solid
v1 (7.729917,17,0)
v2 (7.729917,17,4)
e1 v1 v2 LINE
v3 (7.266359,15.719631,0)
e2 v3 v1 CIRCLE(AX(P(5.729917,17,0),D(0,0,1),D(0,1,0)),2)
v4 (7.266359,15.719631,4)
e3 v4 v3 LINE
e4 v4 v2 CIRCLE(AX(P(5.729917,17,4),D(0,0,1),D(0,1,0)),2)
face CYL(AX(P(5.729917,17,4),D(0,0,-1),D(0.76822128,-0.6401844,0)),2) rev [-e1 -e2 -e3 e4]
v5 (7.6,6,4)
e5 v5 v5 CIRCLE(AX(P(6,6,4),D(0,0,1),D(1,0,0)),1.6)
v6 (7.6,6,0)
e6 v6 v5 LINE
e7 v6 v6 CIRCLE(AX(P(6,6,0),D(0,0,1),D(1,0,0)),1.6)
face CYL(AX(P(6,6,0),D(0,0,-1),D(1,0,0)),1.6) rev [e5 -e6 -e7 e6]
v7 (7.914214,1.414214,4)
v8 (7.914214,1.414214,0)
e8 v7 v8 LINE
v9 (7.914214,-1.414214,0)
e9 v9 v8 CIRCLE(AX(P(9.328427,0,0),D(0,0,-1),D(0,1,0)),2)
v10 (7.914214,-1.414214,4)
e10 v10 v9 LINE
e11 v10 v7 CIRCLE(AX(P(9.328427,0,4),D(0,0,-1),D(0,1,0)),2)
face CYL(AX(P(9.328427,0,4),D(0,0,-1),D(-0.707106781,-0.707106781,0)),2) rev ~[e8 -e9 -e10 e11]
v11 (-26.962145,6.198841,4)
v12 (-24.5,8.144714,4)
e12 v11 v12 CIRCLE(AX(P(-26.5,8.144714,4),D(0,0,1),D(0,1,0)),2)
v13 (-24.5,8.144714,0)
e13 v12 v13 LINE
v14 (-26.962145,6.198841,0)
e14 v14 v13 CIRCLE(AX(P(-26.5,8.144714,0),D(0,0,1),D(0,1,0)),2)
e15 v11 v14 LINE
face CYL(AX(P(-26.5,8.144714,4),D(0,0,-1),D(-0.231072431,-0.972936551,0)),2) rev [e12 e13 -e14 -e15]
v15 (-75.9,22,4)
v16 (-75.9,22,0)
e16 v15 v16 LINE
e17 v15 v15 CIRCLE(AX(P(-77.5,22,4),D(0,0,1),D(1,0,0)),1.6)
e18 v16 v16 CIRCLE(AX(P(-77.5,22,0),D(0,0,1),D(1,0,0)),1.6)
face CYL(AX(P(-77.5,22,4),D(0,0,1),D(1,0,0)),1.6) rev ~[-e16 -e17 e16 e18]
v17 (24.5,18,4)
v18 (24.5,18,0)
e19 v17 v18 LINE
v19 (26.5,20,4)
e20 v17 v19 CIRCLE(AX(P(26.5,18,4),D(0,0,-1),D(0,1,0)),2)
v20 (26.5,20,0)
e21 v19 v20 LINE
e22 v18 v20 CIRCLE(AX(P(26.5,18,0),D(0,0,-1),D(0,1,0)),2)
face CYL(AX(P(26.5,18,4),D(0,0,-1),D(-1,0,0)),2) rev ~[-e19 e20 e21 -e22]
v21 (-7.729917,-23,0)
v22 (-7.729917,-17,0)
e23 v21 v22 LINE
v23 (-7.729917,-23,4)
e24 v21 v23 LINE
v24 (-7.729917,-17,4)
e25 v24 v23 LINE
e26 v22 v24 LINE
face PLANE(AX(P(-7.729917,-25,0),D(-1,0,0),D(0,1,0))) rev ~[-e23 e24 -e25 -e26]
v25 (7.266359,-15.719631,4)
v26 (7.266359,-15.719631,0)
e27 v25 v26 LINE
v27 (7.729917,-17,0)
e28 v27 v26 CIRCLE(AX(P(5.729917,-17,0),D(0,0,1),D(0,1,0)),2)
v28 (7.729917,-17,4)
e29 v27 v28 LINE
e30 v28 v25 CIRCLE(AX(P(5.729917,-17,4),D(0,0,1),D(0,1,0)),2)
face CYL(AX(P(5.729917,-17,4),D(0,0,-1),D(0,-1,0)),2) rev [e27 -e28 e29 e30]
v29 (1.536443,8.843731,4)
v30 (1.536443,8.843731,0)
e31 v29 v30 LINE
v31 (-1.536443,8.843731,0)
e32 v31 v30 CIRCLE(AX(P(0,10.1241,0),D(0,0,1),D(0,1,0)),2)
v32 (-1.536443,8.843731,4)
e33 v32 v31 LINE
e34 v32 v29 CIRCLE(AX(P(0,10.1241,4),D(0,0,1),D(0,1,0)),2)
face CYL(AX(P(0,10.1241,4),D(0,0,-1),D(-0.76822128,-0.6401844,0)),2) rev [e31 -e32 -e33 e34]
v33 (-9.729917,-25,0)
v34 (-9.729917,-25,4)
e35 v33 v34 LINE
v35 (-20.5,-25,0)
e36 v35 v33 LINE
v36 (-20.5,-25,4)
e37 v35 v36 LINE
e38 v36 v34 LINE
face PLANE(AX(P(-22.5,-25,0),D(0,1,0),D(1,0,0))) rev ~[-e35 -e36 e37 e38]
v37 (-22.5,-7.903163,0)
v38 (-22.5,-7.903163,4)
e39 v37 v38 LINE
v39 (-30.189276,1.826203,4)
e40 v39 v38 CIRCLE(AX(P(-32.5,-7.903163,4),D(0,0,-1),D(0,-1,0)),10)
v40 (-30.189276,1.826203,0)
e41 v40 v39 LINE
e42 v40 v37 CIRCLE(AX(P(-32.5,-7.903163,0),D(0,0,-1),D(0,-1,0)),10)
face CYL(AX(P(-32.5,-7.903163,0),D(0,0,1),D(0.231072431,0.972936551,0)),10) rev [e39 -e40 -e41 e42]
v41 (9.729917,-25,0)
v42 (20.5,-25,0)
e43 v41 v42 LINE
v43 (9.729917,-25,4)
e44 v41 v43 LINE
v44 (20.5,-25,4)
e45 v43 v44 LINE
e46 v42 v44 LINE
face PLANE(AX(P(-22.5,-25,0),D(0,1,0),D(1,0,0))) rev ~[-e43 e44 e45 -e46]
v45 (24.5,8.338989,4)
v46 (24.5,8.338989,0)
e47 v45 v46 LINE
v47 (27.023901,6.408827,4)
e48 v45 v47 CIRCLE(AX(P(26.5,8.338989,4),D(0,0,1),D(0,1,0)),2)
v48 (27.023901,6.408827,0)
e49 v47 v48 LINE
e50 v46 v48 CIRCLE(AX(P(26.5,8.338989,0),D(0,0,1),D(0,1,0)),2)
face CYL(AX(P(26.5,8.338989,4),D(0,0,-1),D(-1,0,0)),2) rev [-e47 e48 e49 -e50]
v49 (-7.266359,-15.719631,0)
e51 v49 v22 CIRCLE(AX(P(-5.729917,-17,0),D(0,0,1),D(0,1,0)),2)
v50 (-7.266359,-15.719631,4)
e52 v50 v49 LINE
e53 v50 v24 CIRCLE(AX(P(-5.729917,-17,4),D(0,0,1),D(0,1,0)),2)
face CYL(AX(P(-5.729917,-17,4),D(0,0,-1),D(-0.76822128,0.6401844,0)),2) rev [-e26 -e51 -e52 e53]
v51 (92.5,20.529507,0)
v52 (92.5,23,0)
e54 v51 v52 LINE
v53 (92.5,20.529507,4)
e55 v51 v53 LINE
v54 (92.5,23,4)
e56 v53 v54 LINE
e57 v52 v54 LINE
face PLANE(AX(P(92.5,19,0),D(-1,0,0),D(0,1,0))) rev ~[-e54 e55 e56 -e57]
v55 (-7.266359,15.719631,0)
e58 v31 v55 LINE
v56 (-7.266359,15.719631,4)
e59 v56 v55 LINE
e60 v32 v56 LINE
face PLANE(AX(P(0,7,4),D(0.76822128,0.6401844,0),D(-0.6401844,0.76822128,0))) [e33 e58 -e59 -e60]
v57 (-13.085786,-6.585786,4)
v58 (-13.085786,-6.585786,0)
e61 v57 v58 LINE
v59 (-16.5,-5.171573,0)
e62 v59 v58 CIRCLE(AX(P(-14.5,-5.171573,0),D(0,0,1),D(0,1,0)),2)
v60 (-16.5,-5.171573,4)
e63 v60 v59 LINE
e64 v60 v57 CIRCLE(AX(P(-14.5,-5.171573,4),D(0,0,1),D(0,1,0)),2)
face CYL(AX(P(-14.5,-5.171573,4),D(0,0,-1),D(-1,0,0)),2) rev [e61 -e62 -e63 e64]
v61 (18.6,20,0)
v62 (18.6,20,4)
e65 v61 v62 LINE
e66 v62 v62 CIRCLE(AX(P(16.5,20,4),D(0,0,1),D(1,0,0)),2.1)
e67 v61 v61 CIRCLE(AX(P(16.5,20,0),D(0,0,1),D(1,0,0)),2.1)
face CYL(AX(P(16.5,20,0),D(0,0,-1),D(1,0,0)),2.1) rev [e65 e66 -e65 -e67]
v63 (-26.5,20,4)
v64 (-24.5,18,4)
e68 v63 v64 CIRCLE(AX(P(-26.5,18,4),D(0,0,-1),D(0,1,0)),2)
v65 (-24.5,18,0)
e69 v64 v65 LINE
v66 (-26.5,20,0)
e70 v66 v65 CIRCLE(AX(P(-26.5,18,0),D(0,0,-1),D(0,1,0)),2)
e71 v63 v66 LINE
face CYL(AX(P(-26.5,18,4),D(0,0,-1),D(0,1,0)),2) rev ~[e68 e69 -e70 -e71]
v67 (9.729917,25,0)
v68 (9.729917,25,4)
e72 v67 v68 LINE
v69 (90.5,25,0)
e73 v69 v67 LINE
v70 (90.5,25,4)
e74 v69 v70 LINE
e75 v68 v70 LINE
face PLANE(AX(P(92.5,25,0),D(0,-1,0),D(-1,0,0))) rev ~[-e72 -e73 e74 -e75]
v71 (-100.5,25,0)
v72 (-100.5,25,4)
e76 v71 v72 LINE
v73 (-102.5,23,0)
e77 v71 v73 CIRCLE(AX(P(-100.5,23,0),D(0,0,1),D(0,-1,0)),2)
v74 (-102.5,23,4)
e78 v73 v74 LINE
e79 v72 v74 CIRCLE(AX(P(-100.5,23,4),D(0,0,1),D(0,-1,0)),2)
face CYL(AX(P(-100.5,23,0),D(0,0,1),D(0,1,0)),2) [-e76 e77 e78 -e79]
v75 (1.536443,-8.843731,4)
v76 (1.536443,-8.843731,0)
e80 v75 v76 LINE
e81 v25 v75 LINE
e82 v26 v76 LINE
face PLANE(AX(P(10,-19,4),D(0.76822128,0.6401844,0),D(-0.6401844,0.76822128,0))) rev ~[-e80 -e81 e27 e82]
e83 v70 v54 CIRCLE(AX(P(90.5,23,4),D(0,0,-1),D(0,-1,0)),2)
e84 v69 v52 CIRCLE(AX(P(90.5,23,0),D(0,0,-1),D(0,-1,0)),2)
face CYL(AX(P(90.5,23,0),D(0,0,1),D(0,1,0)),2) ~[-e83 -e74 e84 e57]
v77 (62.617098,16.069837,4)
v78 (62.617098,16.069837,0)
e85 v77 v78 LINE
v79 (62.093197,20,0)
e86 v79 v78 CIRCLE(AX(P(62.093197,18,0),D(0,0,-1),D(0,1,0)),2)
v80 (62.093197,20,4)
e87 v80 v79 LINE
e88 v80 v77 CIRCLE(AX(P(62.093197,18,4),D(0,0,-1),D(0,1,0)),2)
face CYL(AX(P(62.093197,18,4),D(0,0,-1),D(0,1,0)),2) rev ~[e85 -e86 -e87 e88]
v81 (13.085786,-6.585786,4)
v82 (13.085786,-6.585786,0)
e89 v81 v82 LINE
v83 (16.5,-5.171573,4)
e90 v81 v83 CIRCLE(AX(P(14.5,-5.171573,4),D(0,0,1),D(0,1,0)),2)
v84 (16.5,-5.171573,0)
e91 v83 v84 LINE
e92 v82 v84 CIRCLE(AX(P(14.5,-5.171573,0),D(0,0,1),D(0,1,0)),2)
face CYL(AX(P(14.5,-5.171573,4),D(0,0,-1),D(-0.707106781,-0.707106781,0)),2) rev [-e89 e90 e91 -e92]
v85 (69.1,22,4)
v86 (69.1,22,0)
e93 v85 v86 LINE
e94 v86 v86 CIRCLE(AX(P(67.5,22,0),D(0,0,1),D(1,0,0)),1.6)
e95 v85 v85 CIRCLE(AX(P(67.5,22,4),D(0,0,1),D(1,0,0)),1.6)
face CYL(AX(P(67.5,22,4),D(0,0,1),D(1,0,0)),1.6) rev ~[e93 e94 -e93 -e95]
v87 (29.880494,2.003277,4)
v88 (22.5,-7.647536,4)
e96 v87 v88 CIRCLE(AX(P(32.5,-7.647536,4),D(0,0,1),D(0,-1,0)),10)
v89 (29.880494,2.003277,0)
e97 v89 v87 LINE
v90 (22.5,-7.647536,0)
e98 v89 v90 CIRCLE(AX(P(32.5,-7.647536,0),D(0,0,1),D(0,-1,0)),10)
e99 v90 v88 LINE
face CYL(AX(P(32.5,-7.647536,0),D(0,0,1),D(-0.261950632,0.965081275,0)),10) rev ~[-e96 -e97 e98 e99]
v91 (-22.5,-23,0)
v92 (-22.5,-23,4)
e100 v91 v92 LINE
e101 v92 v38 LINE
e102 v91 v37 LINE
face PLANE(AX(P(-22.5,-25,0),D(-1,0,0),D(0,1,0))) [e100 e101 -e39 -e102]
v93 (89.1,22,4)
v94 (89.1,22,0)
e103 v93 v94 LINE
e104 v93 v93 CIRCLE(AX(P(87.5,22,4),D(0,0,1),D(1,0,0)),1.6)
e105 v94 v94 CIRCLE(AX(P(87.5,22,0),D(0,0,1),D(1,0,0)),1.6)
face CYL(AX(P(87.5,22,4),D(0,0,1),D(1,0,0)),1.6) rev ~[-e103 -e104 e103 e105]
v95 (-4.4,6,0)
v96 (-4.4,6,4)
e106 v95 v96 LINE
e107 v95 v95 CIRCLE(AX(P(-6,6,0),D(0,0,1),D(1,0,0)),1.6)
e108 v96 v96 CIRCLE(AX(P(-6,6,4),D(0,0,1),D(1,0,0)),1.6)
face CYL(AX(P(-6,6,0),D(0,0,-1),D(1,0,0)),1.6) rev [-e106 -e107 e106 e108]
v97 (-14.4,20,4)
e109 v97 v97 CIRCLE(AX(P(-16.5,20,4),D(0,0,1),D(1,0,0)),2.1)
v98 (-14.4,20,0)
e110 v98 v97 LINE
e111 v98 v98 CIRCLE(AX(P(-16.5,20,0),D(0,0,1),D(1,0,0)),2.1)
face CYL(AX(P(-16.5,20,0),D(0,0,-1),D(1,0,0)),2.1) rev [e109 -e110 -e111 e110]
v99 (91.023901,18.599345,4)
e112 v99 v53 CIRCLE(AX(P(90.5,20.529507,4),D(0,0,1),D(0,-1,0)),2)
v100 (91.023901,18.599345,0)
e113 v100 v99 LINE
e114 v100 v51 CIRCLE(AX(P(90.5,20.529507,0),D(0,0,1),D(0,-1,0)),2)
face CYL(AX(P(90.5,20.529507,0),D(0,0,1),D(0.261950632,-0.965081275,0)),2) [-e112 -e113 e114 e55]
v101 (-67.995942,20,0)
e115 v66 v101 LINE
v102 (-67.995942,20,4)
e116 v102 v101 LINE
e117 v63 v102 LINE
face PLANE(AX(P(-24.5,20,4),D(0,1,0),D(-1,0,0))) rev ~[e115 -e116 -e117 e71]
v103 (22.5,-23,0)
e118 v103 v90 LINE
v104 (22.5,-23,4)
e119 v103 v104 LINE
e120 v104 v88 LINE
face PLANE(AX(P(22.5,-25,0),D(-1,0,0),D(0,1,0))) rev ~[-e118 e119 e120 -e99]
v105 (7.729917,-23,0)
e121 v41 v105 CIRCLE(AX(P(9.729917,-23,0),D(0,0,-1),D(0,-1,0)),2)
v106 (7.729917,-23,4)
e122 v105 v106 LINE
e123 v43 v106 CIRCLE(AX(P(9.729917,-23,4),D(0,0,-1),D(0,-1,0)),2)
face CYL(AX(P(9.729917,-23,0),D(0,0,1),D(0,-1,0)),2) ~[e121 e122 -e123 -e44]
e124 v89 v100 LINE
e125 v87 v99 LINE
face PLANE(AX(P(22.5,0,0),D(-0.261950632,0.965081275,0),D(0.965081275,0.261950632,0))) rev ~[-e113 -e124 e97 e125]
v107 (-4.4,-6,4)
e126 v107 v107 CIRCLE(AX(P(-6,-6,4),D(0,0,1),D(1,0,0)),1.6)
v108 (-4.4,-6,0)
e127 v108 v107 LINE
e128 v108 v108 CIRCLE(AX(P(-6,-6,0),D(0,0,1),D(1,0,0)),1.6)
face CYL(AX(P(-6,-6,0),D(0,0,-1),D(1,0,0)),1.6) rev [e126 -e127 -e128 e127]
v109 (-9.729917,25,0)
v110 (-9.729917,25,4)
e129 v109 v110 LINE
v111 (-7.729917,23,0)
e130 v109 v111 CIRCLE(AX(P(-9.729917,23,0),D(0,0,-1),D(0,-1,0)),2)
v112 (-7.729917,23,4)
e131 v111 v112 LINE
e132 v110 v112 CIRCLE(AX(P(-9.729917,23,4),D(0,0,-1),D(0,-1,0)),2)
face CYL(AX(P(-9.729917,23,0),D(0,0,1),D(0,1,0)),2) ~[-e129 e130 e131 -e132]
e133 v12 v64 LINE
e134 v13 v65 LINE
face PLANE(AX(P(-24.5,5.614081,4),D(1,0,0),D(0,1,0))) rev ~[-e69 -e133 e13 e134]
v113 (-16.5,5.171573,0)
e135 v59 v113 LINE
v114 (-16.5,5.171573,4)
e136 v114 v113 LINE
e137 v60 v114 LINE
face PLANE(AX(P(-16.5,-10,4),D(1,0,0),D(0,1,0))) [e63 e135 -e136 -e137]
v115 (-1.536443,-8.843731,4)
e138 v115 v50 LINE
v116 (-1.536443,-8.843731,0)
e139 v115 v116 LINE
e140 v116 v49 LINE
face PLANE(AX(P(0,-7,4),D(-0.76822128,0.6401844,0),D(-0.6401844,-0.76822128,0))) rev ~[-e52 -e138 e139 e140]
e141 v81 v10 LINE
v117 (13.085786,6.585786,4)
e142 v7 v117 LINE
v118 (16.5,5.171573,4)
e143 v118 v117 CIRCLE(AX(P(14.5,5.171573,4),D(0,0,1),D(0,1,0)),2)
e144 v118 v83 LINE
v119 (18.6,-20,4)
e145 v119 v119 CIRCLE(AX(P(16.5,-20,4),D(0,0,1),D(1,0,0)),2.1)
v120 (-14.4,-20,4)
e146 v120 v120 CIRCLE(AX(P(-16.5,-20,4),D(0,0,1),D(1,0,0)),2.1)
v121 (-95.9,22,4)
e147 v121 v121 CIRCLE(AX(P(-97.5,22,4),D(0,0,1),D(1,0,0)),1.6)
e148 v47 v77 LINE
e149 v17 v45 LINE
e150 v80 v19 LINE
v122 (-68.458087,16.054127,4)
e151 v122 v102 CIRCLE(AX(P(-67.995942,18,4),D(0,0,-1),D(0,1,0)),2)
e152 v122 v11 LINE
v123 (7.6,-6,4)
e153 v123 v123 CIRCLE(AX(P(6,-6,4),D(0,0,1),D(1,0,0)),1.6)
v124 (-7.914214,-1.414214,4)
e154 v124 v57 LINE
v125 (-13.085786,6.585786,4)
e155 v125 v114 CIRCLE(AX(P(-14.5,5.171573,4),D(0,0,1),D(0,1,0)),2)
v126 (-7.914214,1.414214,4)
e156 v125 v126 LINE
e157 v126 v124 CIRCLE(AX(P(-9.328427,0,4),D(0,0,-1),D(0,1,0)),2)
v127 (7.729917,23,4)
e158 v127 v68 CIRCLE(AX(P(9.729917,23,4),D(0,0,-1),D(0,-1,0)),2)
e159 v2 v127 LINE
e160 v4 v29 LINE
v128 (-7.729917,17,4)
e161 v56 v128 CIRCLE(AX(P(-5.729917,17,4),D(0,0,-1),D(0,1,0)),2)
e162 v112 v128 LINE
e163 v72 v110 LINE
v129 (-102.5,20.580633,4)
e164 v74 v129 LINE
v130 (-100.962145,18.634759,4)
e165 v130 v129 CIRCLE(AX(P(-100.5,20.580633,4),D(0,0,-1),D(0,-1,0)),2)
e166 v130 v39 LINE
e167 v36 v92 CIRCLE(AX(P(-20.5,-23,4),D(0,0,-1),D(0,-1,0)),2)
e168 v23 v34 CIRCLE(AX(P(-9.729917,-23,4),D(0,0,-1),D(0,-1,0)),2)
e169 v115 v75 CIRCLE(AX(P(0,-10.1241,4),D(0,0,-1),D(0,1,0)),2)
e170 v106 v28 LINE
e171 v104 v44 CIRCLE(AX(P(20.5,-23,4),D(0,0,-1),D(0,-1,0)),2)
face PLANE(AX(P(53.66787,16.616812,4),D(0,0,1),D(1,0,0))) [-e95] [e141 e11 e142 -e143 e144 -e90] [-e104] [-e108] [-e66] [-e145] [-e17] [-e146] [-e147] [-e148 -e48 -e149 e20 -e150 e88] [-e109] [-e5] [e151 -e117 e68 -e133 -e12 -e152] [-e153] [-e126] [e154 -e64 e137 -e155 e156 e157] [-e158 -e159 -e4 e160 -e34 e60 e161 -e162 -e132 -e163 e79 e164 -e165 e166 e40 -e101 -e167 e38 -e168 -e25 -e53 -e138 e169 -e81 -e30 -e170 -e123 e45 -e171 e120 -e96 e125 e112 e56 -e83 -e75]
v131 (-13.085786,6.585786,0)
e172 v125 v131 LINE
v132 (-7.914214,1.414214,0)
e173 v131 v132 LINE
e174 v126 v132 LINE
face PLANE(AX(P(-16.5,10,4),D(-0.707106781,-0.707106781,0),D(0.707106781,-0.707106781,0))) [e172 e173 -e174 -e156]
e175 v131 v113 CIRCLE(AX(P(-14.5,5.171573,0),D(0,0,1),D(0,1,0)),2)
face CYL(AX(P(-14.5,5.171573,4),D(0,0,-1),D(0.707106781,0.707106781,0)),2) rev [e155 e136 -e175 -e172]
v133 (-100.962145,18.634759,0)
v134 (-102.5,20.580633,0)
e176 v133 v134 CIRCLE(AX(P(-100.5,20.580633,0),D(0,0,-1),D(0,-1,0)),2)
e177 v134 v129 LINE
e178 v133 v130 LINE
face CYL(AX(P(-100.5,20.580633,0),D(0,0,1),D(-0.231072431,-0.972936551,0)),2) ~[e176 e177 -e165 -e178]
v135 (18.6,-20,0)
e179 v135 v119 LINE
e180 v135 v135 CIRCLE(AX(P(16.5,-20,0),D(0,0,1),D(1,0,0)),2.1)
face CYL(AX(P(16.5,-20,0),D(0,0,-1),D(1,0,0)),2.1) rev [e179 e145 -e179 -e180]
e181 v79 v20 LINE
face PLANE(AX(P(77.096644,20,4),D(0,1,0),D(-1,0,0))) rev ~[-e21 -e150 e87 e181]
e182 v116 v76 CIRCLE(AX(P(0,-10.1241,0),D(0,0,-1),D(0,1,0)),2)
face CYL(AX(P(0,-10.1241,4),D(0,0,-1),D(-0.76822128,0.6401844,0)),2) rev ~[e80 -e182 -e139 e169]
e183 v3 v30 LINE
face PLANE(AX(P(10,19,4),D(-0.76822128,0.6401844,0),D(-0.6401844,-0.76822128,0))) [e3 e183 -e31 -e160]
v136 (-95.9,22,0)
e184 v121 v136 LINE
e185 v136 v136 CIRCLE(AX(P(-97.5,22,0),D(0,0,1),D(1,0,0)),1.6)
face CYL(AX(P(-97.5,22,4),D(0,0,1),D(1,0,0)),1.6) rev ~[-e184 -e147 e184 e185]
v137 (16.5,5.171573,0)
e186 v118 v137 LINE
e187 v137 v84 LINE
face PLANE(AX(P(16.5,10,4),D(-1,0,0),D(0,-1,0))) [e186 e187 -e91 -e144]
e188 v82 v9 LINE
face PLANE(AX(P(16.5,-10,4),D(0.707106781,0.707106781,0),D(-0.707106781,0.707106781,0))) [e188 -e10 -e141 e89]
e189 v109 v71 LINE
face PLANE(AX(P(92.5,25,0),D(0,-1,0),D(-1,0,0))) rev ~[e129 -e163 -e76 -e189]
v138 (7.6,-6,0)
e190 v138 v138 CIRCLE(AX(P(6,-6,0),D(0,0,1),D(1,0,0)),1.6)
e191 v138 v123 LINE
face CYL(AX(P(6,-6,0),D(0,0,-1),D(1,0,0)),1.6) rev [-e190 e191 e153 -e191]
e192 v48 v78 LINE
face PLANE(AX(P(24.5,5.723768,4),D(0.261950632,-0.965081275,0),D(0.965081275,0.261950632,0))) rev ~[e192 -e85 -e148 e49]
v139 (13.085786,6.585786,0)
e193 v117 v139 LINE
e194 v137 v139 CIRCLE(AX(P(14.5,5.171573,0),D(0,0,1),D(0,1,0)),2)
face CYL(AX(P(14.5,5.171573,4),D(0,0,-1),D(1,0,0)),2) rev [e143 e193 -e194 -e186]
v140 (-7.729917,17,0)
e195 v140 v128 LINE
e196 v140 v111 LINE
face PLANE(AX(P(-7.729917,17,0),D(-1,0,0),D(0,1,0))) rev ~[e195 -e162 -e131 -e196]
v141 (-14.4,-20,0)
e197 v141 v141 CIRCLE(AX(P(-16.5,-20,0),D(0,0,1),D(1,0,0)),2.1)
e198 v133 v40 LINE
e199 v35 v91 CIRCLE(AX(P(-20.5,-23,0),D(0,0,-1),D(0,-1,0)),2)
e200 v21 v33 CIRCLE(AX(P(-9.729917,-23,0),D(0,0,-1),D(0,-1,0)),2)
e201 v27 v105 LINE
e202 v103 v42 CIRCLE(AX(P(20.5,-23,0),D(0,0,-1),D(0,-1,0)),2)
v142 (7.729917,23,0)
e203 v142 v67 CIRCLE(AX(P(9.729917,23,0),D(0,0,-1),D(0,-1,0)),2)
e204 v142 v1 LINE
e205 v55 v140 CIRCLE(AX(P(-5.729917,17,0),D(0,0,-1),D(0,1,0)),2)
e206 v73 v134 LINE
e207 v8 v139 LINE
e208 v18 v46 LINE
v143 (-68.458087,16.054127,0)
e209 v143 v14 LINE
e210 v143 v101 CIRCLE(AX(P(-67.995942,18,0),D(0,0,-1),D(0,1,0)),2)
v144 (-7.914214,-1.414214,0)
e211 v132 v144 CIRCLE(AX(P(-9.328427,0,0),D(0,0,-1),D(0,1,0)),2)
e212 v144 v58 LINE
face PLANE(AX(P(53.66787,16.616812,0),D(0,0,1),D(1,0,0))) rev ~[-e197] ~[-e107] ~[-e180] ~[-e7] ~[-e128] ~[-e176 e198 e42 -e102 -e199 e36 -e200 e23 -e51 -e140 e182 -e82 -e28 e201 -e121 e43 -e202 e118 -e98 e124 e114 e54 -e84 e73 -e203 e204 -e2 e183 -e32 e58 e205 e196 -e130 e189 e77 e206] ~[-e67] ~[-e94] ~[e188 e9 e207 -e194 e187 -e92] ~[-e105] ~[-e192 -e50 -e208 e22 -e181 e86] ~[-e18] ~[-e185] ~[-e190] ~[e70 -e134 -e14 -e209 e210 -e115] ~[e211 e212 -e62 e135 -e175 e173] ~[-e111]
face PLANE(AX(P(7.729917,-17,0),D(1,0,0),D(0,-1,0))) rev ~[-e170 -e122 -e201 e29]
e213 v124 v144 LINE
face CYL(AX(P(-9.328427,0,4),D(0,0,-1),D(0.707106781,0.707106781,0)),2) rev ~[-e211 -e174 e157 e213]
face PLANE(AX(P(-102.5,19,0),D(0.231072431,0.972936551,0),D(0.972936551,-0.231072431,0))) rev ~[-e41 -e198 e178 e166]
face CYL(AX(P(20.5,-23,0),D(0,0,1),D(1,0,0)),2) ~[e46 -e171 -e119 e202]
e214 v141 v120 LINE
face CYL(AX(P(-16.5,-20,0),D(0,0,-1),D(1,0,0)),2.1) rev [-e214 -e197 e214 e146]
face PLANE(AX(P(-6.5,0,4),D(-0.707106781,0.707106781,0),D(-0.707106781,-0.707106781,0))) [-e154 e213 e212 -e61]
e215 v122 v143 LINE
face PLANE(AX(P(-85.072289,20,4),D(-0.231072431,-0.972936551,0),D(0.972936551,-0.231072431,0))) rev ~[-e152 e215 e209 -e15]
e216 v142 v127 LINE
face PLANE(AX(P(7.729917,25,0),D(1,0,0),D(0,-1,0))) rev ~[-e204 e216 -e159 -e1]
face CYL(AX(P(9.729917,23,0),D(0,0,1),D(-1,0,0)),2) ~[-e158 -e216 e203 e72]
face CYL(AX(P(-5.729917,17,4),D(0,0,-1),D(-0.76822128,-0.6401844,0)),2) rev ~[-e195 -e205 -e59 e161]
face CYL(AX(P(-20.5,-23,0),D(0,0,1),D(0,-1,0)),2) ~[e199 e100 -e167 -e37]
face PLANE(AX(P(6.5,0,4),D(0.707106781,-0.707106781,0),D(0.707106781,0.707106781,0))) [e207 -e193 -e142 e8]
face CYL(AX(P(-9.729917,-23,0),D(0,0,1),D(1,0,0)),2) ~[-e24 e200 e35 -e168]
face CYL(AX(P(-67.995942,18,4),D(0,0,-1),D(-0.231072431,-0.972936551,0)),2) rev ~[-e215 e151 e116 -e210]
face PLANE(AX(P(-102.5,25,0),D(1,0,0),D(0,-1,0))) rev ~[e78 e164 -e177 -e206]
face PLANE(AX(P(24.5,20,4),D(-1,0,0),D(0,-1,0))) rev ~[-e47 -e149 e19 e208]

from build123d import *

# Parameters (mm, degrees)
SKETCH_1_W          = 45
SKETCH_1_H          = 50
SKETCH_1_R          = 1.6
SKETCH_1_R_2        = 2.1
EXTRUDE_1_DEPTH     = 4
FILLET_1_R          = 2
FILLET_2_R          = 10
CUT_EXTRUDE_1_DEPTH = 10
FILLET_3_R          = 2
SKETCH_3_W          = 5.729916775
SKETCH_3_H          = 6
CUT_EXTRUDE_2_DEPTH = 10
CUT_EXTRUDE_3_DEPTH = 10
FILLET_4_R          = 2
CUT_EXTRUDE_4_DEPTH = 10
FILLET_5_R          = 2
CUT_EXTRUDE_5_DEPTH = 10
SKETCH_8_R          = 1.6
CUT_EXTRUDE_6_DEPTH = 10
SKETCH_9_R          = 1.6
CUT_EXTRUDE_7_DEPTH = 10
FILLET_8_R          = 2


with BuildPart() as part:
    # 草图1 → 凸台-拉伸1 (new body)
    # profile 1 of 3: a face of its own
    with BuildSketch(Plane.XY):
        Polygon((-102.5, 25), (-102.5, 19), (-22.5, 0), (-22.5, 25), align=None)
    # profile 2 of 3: a face of its own
    with BuildSketch(Plane.XY):
        Rectangle(SKETCH_1_W, SKETCH_1_H)
        with Locations((-6, -6)):
            Circle(SKETCH_1_R, mode=Mode.SUBTRACT)
        with Locations((6, -6)):
            Circle(SKETCH_1_R, mode=Mode.SUBTRACT)
        with Locations((6, 6)):
            Circle(SKETCH_1_R, mode=Mode.SUBTRACT)
        with Locations((-6, 6)):
            Circle(SKETCH_1_R, mode=Mode.SUBTRACT)
        with Locations((-16.5, -20)):
            Circle(SKETCH_1_R_2, mode=Mode.SUBTRACT)
        with Locations((16.5, -20)):
            Circle(SKETCH_1_R_2, mode=Mode.SUBTRACT)
        with Locations((16.5, 20)):
            Circle(SKETCH_1_R_2, mode=Mode.SUBTRACT)
        with Locations((-16.5, 20)):
            Circle(SKETCH_1_R_2, mode=Mode.SUBTRACT)
    # profile 3 of 3: a face of its own
    with BuildSketch(Plane.XY):
        Polygon((92.5, 25), (22.5, 25), (22.5, 0), (92.5, 19), align=None)
    extrude(amount=EXTRUDE_1_DEPTH)

    # 圆角1
    fillet_1_edges = [part.edges().sort_by_distance(p)[0] for p in [
        (92.5, 25, 2),
        (92.5, 19, 2),
        (22.5, -25, 2),
        (-22.5, -25, 2),
        (-102.5, 19, 2),
        (-102.5, 25, 2),
    ]]
    fillet(fillet_1_edges, radius=FILLET_1_R)

    # 圆角2
    fillet_2_edges = [part.edges().sort_by_distance(p)[0] for p in [
        (22.5, 0, 2),
        (-22.5, 0, 2),
    ]]
    fillet(fillet_2_edges, radius=FILLET_2_R)

    # 草图2 → 切除-拉伸1 (cut)
    with BuildSketch(Plane.XY.offset(4)):
        Polygon((-10, 19), (10, 19), (0, 7), align=None)
        Polygon((0, -7), (-10, -19), (10, -19), align=None)
    extrude(amount=-CUT_EXTRUDE_1_DEPTH, mode=Mode.SUBTRACT)

    # 圆角3
    fillet_3_edges = [part.edges().sort_by_distance(p)[0] for p in [
        (0, 7, 2),
        (-10, 19, 2),
        (10, 19, 2),
        (10, -19, 2),
        (-10, -19, 2),
        (0, -7, 2),
    ]]
    fillet(fillet_3_edges, radius=FILLET_3_R)

    # 草图3 → 切除-拉伸2 (cut)
    with BuildSketch(Plane(origin=(0, 0, 0), x_dir=(-1, 0, 0), z_dir=(0, 0, -1))):
        with Locations((2.864958388, 22)):
            Rectangle(SKETCH_3_W, SKETCH_3_H)
        with Locations((-2.864958388, 22)):
            Rectangle(SKETCH_3_W, SKETCH_3_H)
        with Locations((2.864958388, -22)):
            Rectangle(SKETCH_3_W, SKETCH_3_H)
        with Locations((-2.864958388, -22)):
            Rectangle(SKETCH_3_W, SKETCH_3_H)
    extrude(amount=-CUT_EXTRUDE_2_DEPTH, mode=Mode.SUBTRACT)

    # 草图4 → 切除-拉伸3 (cut)
    with BuildSketch(Plane(origin=(0, 0, 0), x_dir=(-1, 0, 0), z_dir=(0, 0, -1))):
        with BuildLine():
            Line((-5.729916775, 25), (-7.729916775, 25))
            Line((-7.729916775, 25), (-7.729916775, 17))
            ThreePointArc((-7.729916775, 17), (-7.144130337, 18.414213562), (-5.729916775, 19))
            Line((-5.729916775, 19), (-5.729916775, 25))
        make_face()
        with BuildLine():
            Line((7.729916775, 25), (5.729916775, 25))
            Line((5.729916775, 25), (5.729916775, 19))
            ThreePointArc((5.729916775, 19), (7.144130337, 18.414213562), (7.729916775, 17))
            Line((7.729916775, 17), (7.729916775, 25))
        make_face()
        with BuildLine():
            Line((-7.729916775, -17), (-7.729916775, -25))
            Line((-7.729916775, -25), (-5.729916775, -25))
            Line((-5.729916775, -25), (-5.729916775, -19))
            ThreePointArc((-5.729916775, -19), (-7.144130337, -18.414213562), (-7.729916775, -17))
        make_face()
        with BuildLine():
            Line((5.729916775, -19), (5.729916775, -25))
            Line((5.729916775, -25), (7.729916775, -25))
            Line((7.729916775, -25), (7.729916775, -17))
            ThreePointArc((7.729916775, -17), (7.144130337, -18.414213562), (5.729916775, -19))
        make_face()
    extrude(amount=-CUT_EXTRUDE_3_DEPTH, mode=Mode.SUBTRACT)

    # 圆角4
    fillet_4_edges = [part.edges().sort_by_distance(p)[0] for p in [
        (7.729916775, 25, 2),
        (-7.729916775, 25, 2),
        (-7.729916775, -25, 2),
        (7.729916775, -25, 2),
    ]]
    fillet(fillet_4_edges, radius=FILLET_4_R)

    # 草图6 → 切除-拉伸4 (cut)
    with BuildSketch(Plane.XY.offset(4)):
        Polygon((6.5, 0), (16.5, 10), (16.5, -10), align=None)
        Polygon((-6.5, 0), (-16.5, -10), (-16.5, 10), align=None)
    extrude(amount=-CUT_EXTRUDE_4_DEPTH, mode=Mode.SUBTRACT)

    # 圆角5
    fillet_5_edges = [part.edges().sort_by_distance(p)[0] for p in [
        (16.5, -10, 2),
        (6.5, 0, 2),
        (16.5, 10, 2),
        (-16.5, 10, 2),
        (-6.5, 0, 2),
        (-16.5, -10, 2),
    ]]
    fillet(fillet_5_edges, radius=FILLET_5_R)

    # 草图7 → 切除-拉伸5 (cut)
    with BuildSketch(Plane.XY.offset(4)):
        Polygon((-85.07228941, 20), (-24.5, 5.614081265), (-24.5, 20), align=None)
        Polygon((24.5, 20), (24.5, 5.723767945), (77.096644415, 20), align=None)
    extrude(amount=-CUT_EXTRUDE_5_DEPTH, mode=Mode.SUBTRACT)

    # 草图8 → 切除-拉伸6 (cut)
    with BuildSketch(Plane.XY.offset(4)):
        with Locations((-97.5, 22)):
            Circle(SKETCH_8_R)
        with Locations((-77.5, 22)):
            Circle(SKETCH_8_R)
    extrude(amount=-CUT_EXTRUDE_6_DEPTH, mode=Mode.SUBTRACT)

    # 草图9 → 切除-拉伸7 (cut)
    with BuildSketch(Plane.XY.offset(4)):
        with Locations((87.5, 22)):
            Circle(SKETCH_9_R)
        with Locations((67.5, 22)):
            Circle(SKETCH_9_R)
    extrude(amount=-CUT_EXTRUDE_7_DEPTH, mode=Mode.SUBTRACT)

    # 圆角8
    fillet_8_edges = [part.edges().sort_by_distance(p)[0] for p in [
        (-85.07228941, 20, 2),
        (-24.5, 20, 2),
        (-24.5, 5.614081265, 2),
        (24.5, 20, 2),
        (77.096644415, 20, 2),
        (24.5, 5.723767945, 2),
    ]]
    fillet(fillet_8_edges, radius=FILLET_8_R)


solid = part.part
